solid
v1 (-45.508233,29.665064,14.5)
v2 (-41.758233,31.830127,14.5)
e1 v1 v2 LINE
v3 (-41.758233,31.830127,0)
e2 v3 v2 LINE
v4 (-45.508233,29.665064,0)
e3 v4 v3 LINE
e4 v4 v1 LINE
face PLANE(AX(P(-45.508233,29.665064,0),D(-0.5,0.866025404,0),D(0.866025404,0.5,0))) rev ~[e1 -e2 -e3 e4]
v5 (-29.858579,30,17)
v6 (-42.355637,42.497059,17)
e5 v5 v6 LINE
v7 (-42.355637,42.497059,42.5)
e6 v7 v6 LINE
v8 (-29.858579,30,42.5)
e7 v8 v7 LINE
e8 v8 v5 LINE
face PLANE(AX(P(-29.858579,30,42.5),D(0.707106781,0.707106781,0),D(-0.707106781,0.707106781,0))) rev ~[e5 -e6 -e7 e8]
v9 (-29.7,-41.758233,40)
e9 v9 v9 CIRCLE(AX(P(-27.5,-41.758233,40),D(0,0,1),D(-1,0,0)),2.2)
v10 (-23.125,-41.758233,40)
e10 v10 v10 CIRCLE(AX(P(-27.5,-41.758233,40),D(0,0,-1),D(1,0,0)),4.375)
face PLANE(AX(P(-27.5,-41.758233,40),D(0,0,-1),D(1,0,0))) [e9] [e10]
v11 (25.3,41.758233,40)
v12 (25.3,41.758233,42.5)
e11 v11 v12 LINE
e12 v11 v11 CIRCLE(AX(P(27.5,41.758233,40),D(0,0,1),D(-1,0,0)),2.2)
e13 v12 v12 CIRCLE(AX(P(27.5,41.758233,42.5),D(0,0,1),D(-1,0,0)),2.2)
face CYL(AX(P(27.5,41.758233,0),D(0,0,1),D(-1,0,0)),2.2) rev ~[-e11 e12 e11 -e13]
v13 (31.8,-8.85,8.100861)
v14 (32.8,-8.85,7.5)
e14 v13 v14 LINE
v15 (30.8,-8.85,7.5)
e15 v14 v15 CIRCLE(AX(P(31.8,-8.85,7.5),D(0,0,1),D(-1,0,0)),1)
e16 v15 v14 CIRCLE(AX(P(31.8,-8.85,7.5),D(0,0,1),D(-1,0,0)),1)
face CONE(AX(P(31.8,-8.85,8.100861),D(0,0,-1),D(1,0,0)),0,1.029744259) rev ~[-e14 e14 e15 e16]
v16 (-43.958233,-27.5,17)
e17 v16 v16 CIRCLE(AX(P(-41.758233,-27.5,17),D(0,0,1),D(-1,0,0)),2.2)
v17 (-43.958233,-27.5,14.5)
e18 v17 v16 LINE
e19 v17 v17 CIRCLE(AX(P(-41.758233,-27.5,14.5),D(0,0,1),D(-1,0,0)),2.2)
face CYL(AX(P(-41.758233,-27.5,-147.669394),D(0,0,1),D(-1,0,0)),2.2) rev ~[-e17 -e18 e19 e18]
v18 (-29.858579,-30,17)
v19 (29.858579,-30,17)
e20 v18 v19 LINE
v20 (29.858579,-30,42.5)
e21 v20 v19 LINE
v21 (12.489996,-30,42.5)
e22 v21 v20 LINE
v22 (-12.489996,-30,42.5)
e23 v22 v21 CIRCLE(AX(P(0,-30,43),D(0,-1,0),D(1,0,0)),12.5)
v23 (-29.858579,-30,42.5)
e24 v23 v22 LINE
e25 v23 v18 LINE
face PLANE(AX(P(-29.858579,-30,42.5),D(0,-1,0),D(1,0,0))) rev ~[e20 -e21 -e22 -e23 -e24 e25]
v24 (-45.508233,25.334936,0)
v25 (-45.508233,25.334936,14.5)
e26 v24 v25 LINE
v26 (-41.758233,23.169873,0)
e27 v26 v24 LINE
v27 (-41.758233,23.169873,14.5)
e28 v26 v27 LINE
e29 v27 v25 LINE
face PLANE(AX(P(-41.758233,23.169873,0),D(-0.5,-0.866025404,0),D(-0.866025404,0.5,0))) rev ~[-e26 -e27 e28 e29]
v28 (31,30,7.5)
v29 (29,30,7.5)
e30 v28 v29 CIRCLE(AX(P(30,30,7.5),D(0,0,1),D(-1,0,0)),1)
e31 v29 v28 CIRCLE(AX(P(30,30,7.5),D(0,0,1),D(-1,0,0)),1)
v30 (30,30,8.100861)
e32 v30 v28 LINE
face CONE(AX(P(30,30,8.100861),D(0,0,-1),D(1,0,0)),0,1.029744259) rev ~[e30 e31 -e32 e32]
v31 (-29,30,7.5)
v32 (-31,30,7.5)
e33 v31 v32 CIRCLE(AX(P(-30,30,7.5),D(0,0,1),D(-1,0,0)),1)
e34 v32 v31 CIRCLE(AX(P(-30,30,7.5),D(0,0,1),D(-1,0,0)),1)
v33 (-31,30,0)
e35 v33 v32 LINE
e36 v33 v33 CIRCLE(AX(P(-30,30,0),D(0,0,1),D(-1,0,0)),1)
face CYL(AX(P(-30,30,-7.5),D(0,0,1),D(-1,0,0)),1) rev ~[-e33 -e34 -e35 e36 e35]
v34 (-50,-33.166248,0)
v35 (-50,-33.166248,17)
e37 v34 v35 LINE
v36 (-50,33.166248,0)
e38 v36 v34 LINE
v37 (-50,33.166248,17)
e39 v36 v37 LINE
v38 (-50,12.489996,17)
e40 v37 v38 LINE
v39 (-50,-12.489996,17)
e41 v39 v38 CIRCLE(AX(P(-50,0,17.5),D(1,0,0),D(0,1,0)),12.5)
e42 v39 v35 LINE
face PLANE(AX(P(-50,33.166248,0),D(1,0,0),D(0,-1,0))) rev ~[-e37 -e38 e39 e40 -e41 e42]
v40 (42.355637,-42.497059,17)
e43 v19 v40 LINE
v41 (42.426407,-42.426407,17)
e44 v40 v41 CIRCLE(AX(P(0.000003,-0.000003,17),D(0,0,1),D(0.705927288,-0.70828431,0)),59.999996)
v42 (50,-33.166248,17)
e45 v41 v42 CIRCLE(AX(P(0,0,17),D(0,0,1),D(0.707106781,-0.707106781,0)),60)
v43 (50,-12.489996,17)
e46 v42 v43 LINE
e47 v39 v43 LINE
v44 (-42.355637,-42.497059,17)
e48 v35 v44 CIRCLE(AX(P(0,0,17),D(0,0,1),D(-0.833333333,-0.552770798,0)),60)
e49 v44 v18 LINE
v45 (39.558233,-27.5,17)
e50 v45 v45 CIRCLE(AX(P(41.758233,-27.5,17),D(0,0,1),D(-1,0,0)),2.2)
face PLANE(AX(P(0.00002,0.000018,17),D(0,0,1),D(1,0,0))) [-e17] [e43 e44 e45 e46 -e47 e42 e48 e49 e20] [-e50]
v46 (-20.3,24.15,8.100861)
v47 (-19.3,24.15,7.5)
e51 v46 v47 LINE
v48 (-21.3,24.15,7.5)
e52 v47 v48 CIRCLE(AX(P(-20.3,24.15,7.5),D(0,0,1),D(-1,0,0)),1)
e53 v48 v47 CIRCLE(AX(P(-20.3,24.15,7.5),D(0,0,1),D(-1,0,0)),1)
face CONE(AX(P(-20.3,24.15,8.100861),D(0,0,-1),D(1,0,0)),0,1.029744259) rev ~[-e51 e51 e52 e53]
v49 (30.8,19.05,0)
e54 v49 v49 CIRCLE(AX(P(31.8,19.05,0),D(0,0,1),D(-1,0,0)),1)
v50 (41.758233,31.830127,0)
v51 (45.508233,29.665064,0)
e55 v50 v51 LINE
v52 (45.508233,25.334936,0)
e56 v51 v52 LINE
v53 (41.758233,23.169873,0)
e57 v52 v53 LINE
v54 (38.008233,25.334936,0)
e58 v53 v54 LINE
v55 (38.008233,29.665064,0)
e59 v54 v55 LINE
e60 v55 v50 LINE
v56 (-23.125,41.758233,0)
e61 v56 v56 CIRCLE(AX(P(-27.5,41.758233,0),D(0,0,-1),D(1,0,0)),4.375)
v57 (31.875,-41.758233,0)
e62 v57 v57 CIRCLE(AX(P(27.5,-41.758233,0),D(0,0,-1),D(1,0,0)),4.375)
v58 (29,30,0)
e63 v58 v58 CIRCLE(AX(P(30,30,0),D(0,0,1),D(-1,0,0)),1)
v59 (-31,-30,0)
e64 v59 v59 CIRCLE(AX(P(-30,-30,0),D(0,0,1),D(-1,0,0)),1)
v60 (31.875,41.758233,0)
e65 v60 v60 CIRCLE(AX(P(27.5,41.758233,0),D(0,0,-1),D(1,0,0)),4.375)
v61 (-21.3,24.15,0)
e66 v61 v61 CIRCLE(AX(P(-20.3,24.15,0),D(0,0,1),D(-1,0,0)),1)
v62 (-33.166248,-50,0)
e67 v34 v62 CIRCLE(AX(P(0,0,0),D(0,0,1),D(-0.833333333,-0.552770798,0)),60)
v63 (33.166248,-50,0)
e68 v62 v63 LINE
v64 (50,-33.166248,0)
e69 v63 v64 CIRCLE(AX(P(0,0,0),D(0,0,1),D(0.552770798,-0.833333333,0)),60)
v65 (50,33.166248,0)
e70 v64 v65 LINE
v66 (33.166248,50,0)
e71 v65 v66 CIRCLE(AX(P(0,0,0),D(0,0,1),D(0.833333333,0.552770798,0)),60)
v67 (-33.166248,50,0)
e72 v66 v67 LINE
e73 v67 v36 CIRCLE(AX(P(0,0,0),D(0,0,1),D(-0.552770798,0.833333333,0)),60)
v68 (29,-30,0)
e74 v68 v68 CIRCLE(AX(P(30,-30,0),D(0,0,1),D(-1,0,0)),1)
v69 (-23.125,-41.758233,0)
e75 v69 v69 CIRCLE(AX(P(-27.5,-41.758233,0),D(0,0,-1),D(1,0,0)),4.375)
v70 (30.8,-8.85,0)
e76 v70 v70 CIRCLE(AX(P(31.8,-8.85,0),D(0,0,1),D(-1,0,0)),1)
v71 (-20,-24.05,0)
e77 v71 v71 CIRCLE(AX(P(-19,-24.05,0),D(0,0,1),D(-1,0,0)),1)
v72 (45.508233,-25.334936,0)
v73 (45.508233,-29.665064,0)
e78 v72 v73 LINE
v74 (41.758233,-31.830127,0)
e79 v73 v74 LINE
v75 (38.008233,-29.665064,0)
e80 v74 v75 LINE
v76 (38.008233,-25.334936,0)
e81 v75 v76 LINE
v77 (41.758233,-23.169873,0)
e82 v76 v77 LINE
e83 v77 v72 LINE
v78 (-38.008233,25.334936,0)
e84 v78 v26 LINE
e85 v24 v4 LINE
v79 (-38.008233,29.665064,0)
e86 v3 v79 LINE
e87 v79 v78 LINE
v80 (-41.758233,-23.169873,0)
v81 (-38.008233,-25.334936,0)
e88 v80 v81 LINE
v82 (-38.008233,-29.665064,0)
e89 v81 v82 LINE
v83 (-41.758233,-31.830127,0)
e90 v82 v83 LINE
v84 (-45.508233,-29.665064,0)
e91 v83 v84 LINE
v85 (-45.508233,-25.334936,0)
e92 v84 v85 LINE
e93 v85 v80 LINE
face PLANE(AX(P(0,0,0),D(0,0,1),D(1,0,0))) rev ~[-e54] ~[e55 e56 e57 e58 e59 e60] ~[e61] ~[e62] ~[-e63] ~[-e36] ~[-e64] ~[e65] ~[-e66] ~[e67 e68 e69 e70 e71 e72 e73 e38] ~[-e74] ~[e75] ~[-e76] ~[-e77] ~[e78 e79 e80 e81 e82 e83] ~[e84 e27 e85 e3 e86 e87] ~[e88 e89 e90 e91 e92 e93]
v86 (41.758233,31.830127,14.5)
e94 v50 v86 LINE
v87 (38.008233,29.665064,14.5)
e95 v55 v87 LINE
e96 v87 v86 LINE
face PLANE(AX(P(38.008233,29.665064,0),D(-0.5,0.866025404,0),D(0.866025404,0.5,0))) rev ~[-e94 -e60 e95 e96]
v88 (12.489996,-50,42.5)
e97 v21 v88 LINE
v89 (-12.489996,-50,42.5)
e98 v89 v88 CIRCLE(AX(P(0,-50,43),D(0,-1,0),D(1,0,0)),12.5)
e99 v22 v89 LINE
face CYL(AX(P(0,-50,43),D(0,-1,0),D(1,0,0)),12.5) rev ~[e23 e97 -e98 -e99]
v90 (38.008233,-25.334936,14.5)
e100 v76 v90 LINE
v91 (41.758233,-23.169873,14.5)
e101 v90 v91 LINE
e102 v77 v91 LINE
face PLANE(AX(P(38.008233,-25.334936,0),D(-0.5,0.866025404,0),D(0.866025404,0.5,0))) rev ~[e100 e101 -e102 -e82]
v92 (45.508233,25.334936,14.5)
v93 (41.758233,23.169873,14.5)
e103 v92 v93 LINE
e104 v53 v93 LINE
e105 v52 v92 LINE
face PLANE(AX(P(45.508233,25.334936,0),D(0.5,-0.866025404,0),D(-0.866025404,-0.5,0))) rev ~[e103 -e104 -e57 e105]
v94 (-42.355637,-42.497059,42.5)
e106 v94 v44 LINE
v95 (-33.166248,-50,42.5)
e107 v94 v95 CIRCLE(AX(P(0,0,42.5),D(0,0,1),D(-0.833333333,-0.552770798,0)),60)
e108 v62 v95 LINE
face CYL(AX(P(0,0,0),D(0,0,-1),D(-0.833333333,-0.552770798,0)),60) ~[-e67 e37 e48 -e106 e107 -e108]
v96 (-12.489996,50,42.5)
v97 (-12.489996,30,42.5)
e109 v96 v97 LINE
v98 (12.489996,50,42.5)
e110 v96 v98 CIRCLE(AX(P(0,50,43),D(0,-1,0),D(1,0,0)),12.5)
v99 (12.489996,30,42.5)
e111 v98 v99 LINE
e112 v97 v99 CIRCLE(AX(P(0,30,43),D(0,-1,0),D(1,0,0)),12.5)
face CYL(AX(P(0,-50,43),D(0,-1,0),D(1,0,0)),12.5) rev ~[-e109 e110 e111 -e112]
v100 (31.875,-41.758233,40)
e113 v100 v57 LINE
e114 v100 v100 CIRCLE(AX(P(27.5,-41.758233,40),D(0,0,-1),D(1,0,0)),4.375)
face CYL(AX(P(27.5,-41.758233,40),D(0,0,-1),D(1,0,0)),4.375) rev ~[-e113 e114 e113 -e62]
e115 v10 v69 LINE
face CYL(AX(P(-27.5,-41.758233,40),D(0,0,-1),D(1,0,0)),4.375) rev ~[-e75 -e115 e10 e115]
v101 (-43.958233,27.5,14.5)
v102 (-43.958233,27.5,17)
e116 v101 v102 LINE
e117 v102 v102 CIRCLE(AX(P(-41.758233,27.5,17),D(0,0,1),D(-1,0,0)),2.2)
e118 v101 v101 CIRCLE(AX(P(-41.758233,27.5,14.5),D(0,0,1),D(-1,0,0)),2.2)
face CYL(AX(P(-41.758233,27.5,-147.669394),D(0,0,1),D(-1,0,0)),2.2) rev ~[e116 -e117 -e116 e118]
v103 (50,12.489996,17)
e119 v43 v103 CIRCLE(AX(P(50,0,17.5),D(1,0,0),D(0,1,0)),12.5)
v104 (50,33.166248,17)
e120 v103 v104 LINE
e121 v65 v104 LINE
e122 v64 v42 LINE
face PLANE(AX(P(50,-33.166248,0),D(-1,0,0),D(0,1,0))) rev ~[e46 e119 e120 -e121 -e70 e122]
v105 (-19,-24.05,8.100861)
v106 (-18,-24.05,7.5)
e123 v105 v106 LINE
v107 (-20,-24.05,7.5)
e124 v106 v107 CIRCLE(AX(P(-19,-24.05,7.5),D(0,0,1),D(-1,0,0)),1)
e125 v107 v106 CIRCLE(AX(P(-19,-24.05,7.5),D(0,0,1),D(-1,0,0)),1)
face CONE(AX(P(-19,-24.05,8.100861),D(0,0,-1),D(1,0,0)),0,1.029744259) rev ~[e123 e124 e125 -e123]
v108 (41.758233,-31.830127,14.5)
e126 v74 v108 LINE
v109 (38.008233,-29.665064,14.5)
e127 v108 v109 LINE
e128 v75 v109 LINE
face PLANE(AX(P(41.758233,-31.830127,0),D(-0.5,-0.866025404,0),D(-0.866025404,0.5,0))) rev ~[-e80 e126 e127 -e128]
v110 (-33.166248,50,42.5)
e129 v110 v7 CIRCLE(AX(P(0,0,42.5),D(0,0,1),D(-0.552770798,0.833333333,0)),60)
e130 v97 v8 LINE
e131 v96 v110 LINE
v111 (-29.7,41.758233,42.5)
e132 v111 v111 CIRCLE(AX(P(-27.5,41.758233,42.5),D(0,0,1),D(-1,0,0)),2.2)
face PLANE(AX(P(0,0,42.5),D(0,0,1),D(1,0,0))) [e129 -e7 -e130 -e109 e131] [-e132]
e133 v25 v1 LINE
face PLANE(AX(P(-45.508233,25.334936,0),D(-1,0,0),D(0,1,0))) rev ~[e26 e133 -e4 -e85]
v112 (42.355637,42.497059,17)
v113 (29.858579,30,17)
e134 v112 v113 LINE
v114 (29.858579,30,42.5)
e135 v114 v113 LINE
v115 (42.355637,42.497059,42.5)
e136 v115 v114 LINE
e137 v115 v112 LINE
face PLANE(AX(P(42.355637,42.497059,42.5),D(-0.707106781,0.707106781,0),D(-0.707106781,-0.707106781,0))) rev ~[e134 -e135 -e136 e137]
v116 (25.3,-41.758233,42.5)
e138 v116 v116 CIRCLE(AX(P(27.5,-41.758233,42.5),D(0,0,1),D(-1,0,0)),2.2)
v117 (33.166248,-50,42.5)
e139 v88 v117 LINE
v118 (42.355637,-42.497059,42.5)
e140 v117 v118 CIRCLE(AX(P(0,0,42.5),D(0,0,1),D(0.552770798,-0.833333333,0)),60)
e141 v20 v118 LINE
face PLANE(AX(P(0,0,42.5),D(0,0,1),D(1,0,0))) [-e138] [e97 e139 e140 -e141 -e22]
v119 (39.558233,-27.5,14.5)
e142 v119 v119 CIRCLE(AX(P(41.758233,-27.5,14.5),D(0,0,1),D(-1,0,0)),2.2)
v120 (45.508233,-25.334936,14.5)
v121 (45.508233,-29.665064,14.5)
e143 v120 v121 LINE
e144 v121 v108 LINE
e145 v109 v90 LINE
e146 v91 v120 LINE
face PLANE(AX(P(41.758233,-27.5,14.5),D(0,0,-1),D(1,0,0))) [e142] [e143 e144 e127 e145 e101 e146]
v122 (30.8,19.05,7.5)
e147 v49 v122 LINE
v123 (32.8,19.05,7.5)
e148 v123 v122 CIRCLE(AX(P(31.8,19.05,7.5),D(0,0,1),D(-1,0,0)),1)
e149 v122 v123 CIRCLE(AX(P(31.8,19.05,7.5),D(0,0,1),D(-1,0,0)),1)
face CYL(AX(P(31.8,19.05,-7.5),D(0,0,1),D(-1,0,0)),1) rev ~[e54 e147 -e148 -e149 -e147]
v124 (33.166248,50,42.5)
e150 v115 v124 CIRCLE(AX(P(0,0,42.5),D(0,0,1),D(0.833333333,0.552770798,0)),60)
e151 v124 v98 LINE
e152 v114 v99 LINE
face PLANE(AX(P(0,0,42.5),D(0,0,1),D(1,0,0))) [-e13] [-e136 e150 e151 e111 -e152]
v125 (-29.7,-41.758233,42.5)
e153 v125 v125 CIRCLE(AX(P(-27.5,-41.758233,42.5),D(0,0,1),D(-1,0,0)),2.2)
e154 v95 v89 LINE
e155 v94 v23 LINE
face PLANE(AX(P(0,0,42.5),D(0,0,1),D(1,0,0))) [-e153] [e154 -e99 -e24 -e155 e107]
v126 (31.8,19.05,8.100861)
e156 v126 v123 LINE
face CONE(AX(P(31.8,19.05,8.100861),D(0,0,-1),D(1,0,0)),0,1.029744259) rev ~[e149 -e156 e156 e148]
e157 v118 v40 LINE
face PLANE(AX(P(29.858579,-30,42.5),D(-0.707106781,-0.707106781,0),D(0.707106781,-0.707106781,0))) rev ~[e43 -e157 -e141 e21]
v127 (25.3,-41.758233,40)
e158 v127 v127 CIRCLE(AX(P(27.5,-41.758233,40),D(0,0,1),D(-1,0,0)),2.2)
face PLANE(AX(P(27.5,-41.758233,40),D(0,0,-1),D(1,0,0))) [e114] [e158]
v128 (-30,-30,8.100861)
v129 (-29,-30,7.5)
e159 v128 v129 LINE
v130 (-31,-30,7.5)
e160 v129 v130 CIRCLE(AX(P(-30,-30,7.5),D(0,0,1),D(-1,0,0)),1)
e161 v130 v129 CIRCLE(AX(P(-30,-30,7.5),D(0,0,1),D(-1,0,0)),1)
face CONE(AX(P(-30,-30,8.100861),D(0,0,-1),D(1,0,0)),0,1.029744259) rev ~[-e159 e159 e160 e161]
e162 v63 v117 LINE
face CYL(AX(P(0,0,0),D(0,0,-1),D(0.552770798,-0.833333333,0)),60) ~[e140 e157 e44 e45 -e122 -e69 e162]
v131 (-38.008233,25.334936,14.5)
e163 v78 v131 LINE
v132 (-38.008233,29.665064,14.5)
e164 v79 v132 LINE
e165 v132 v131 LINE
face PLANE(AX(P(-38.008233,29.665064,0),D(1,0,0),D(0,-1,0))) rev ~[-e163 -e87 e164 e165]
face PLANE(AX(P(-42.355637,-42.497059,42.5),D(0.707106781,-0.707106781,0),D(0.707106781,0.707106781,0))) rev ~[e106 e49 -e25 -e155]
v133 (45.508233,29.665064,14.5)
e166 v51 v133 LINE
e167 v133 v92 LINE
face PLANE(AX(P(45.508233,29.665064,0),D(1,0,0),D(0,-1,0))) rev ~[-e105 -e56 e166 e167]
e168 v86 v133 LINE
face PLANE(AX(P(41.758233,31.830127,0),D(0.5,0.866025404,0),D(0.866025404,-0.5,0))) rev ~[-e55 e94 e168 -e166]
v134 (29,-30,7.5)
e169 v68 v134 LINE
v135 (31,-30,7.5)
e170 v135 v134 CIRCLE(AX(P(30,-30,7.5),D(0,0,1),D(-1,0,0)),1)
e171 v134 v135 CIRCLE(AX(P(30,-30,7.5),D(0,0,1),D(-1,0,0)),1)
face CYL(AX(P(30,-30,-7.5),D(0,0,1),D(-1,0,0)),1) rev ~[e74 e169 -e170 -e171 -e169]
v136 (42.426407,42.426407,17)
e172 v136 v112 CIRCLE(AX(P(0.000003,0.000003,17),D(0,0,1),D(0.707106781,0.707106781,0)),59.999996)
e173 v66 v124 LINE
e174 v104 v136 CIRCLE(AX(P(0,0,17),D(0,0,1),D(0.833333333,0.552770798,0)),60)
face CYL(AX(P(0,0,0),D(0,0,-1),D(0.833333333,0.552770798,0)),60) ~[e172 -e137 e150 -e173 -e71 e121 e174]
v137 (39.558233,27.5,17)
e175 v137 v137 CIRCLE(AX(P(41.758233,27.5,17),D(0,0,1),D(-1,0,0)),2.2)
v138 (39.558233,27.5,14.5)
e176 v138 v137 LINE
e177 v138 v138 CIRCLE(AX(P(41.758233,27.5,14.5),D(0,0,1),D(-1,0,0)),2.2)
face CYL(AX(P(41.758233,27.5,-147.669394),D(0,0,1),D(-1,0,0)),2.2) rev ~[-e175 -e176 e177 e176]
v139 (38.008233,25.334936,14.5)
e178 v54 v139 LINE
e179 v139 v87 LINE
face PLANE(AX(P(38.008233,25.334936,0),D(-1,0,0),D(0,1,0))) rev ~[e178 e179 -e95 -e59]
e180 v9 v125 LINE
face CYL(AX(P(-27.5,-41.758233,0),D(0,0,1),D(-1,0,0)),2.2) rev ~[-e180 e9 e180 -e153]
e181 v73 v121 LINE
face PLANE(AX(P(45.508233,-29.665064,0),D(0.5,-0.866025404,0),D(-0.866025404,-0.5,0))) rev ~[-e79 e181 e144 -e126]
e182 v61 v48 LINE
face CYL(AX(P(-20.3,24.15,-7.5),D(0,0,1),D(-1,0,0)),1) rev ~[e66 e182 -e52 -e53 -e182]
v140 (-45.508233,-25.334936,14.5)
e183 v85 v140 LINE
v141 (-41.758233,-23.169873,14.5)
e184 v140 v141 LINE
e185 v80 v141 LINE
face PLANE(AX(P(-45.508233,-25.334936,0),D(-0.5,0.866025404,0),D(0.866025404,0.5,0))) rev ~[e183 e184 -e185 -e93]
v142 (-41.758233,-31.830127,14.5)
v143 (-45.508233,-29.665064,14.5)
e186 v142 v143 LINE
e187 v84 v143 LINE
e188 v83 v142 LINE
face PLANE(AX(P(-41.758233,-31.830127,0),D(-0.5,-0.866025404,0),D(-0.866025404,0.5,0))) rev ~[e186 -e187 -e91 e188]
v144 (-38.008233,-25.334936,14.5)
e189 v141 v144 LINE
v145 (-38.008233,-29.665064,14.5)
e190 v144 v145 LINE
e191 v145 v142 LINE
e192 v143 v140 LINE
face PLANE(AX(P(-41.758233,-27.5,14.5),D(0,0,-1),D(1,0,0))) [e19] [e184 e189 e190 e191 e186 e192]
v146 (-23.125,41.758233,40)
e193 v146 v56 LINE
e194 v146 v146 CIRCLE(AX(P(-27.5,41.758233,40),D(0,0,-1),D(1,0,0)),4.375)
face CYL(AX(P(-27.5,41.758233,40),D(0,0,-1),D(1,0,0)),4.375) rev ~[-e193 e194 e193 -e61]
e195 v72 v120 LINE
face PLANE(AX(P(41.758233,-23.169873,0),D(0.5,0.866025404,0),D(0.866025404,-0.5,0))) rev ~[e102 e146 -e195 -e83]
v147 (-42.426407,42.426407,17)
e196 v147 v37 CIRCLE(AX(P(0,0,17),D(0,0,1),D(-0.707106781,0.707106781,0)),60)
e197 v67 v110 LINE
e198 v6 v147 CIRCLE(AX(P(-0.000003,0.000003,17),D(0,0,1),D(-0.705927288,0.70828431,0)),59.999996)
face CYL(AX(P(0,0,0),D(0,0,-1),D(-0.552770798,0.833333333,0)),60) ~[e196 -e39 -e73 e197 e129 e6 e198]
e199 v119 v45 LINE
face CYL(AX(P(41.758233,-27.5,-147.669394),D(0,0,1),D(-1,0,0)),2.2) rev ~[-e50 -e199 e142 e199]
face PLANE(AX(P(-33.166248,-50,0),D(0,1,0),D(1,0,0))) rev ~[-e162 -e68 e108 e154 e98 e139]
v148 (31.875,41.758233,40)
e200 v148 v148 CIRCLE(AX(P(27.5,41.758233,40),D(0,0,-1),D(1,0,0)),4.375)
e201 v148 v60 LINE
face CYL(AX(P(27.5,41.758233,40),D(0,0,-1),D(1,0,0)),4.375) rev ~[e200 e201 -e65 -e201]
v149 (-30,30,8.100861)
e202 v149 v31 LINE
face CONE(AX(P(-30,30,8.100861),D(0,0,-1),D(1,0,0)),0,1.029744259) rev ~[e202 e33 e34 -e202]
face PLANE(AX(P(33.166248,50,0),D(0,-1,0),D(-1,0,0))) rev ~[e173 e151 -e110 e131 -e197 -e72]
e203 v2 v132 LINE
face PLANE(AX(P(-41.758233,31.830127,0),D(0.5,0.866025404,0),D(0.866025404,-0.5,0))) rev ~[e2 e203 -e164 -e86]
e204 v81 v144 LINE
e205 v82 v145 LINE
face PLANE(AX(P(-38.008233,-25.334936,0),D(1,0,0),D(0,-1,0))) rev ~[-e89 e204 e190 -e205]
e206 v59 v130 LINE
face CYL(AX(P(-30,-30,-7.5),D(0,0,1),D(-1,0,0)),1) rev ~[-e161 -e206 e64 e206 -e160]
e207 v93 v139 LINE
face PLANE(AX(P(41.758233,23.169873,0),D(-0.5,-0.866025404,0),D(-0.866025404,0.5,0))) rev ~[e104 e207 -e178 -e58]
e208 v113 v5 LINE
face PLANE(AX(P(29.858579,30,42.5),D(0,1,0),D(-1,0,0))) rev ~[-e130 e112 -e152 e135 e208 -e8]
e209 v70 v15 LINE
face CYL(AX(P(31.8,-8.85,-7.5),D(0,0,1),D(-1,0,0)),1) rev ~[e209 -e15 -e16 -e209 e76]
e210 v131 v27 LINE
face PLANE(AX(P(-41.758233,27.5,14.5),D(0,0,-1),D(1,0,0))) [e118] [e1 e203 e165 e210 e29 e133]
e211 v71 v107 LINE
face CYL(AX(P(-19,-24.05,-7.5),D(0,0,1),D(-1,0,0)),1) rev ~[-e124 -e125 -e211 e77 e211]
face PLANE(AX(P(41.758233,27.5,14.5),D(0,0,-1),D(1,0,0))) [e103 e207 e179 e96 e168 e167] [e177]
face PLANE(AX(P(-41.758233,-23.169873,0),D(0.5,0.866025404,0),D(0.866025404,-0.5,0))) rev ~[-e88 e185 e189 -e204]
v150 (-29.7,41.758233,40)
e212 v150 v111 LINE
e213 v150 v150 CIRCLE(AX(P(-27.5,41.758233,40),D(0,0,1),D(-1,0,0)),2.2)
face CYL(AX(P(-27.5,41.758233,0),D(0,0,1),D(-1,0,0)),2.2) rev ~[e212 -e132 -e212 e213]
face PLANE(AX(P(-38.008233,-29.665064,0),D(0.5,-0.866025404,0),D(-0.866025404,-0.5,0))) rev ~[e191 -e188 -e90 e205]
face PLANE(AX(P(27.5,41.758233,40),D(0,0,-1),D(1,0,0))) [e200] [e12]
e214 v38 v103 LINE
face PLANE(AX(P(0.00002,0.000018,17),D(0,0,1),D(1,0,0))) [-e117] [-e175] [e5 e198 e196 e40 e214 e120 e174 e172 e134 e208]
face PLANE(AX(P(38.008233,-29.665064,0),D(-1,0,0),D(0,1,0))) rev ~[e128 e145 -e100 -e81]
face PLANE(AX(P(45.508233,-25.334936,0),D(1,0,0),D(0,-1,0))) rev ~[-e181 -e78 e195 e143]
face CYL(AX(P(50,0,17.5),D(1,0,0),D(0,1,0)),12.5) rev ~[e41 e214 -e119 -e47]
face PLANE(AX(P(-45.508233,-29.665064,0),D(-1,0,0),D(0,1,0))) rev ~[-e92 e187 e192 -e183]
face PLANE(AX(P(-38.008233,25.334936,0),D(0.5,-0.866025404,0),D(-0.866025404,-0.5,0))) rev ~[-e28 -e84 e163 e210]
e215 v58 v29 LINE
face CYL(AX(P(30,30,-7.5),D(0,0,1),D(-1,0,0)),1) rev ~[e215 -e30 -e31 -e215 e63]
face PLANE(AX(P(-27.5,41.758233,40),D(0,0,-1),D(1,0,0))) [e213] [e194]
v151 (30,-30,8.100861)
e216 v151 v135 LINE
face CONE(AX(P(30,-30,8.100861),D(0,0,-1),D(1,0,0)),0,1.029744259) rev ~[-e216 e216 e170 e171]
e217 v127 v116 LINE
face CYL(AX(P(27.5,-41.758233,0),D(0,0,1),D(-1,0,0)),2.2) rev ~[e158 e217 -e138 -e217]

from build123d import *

# Parameters (mm, degrees)
F1_DEPTH         = 42.5
F3_DEPTH         = 25.5
F4_R             = 12.5
F5_DEPTH         = 100.001
F6_R             = 12.5
F7_DEPTH         = 100.0010000004
F9_D             = 4.4
F9_CBORE_D       = 8.75
F9_CBORE_DEPTH   = 40
F10_D            = 4.4
F11_R            = 2.2
F12_DEPTH        = 14.5
F15_D            = 2
F15_DEPTH        = 7.5
F15_TIP          = 0.600860619
F15_ON_F13_D     = 2
F15_ON_F13_DEPTH = 7.5
F15_ON_F13_TIP   = 0.600860619


with BuildPart() as f1:
    # F0 (on Top) → F1 (new body)
    with BuildSketch(Plane.XY):
        with BuildLine():
            Line((33.1662479036, 50), (-33.1662479036, 50))
            ThreePointArc((-33.1662479036, 50), (-42.4264068712, 42.4264068712), (-50, 33.1662479036))
            Line((-50, 33.1662479036), (-50, -33.1662479036))
            ThreePointArc((-50, -33.1662479036), (-42.4264068712, -42.4264068712), (-33.1662479036, -50))
            Line((-33.1662479036, -50), (33.1662479036, -50))
            ThreePointArc((33.1662479036, -50), (42.4264068712, -42.4264068712), (50, -33.1662479036))
            Line((50, -33.1662479036), (50, 33.1662479036))
            ThreePointArc((50, 33.1662479036), (42.4264068712, 42.4264068712), (33.1662479036, 50))
        make_face()
    extrude(amount=F1_DEPTH)

    # F2 (on face) → F3 (cut)
    with BuildSketch(Plane.XY.offset(42.5)):
        with BuildLine():
            Line((-29.8585786438, 30), (-42.3556372675, 42.4970586237))
            ThreePointArc((-42.3556372675, 42.4970586237), (-42.3910367885, 42.4617474911), (-42.4264068712, 42.4264068712))
            ThreePointArc((-42.4264068712, 42.4264068712), (-46.4445670429, 37.985552414), (-50, 33.1662479036))
            Line((-50, 33.1662479036), (-50, -33.1662479036))
            ThreePointArc((-50, -33.1662479036), (-46.4128962783, -38.0242430438), (-42.3556372675, -42.4970586237))
            Line((-42.3556372675, -42.4970586237), (-29.8585786438, -30))
            Line((-29.8585786438, -30), (29.8585786438, -30))
            Line((29.8585786438, -30), (42.3556372675, -42.4970586237))
            ThreePointArc((42.3556372675, -42.4970586237), (42.3910367885, -42.4617474911), (42.4264068712, -42.4264068712))
            ThreePointArc((42.4264068712, -42.4264068712), (46.4445670429, -37.985552414), (50, -33.1662479036))
            Line((50, -33.1662479036), (50, 33.1662479036))
            ThreePointArc((50, 33.1662479036), (46.4445670429, 37.985552414), (42.4264068712, 42.4264068712))
            ThreePointArc((42.4264068712, 42.4264068712), (42.3910367885, 42.4617474911), (42.3556372675, 42.4970586237))
            Line((42.3556372675, 42.4970586237), (29.8585786438, 30))
            Line((29.8585786438, 30), (-29.8585786438, 30))
        make_face()
    extrude(amount=-F3_DEPTH, mode=Mode.SUBTRACT)

    # F4 (on face) → F5 (cut, through all)
    with BuildSketch(Plane.XZ.offset(50)):
        with Locations((0, 43)):
            Circle(F4_R)
    extrude(amount=-F5_DEPTH, mode=Mode.SUBTRACT)

    # F6 (on face) → F7 (cut, through all)
    with BuildSketch(Plane.YZ.offset(50)):
        with Locations((0, 17.5)):
            Circle(F6_R)
    extrude(amount=-F7_DEPTH, mode=Mode.SUBTRACT)

    # F9 (through all)
    with Locations(Plane(origin=(0, 0, 0), x_dir=(1, 0, 0), z_dir=(0, 0, -1))):
        with Locations((-27.5, 41.7582327212), (27.5, 41.7582327212), (27.5, -41.7582327212), (-27.5, -41.7582327212)):
            CounterBoreHole(F9_D / 2, F9_CBORE_D / 2, F9_CBORE_DEPTH)

    # F10 (through all)
    with Locations(Plane(origin=(0, 0, 0), x_dir=(1, 0, 0), z_dir=(0, 0, -1))):
        with Locations((-41.7582327212, 27.5), (-41.7582327212, -27.5), (41.7582327212, -27.5), (41.7582327212, 27.5)):
            Hole(F10_D / 2)

    # F11 (on face) → F12 (cut)
    with BuildSketch(Plane(origin=(0, 0, 0), x_dir=(1, 0, 0), z_dir=(0, 0, -1))):
        Polygon((-41.7582327212, 23.1698729811), (-38.0082327212, 25.3349364905), (-38.0082327212, 29.6650635095), (-41.7582327212, 31.8301270189), (-45.5082327212, 29.6650635095), (-45.5082327212, 25.3349364905), align=None)
        with Locations((-41.7582327212, 27.5)):
            Circle(F11_R, mode=Mode.SUBTRACT)
        Polygon((38.0082327212, 29.6650635095), (38.0082327212, 25.3349364905), (41.7582327212, 23.1698729811), (45.5082327212, 25.3349364905), (45.5082327212, 29.6650635095), (41.7582327212, 31.8301270189), align=None)
        with Locations((41.7582327212, 27.5)):
            Circle(F11_R, mode=Mode.SUBTRACT)
        Polygon((41.7582327212, -23.1698729811), (38.0082327212, -25.3349364905), (38.0082327212, -29.6650635095), (41.7582327212, -31.8301270189), (45.5082327212, -29.6650635095), (45.5082327212, -25.3349364905), align=None)
        with Locations((41.7582327212, -27.5)):
            Circle(F11_R, mode=Mode.SUBTRACT)
        Polygon((-41.7582327212, -31.8301270189), (-38.0082327212, -29.6650635095), (-38.0082327212, -25.3349364905), (-41.7582327212, -23.1698729811), (-45.5082327212, -25.3349364905), (-45.5082327212, -29.6650635095), align=None)
        with Locations((-41.7582327212, -27.5)):
            Circle(F11_R, mode=Mode.SUBTRACT)
    extrude(amount=-F12_DEPTH, mode=Mode.SUBTRACT)

    # F15
    with Locations(Plane(origin=(0, 0, 0), x_dir=(1, 0, 0), z_dir=(0, 0, -1))):
        with Locations((-30, 30), (30, 30), (30, -30), (-30, -30)):
            Hole(F15_D / 2, depth=F15_DEPTH)
            with Locations((0, 0, -(F15_DEPTH + F15_TIP / 2))):  # 118° drill point
                Cone(0, F15_D / 2, F15_TIP, mode=Mode.SUBTRACT)

    # F15 on F13
    with Locations(Plane(origin=(0, 0, 0), x_dir=(1, 0, 0), z_dir=(0, 0, -1))):
        with Locations((31.8, 8.85), (31.8, -19.05), (-20.3, -24.15), (-19, 24.05)):
            Hole(F15_ON_F13_D / 2, depth=F15_ON_F13_DEPTH)
            with Locations((0, 0, -(F15_ON_F13_DEPTH + F15_ON_F13_TIP / 2))):  # 118° drill point
                Cone(0, F15_ON_F13_D / 2, F15_ON_F13_TIP, mode=Mode.SUBTRACT)


solid = f1.part
